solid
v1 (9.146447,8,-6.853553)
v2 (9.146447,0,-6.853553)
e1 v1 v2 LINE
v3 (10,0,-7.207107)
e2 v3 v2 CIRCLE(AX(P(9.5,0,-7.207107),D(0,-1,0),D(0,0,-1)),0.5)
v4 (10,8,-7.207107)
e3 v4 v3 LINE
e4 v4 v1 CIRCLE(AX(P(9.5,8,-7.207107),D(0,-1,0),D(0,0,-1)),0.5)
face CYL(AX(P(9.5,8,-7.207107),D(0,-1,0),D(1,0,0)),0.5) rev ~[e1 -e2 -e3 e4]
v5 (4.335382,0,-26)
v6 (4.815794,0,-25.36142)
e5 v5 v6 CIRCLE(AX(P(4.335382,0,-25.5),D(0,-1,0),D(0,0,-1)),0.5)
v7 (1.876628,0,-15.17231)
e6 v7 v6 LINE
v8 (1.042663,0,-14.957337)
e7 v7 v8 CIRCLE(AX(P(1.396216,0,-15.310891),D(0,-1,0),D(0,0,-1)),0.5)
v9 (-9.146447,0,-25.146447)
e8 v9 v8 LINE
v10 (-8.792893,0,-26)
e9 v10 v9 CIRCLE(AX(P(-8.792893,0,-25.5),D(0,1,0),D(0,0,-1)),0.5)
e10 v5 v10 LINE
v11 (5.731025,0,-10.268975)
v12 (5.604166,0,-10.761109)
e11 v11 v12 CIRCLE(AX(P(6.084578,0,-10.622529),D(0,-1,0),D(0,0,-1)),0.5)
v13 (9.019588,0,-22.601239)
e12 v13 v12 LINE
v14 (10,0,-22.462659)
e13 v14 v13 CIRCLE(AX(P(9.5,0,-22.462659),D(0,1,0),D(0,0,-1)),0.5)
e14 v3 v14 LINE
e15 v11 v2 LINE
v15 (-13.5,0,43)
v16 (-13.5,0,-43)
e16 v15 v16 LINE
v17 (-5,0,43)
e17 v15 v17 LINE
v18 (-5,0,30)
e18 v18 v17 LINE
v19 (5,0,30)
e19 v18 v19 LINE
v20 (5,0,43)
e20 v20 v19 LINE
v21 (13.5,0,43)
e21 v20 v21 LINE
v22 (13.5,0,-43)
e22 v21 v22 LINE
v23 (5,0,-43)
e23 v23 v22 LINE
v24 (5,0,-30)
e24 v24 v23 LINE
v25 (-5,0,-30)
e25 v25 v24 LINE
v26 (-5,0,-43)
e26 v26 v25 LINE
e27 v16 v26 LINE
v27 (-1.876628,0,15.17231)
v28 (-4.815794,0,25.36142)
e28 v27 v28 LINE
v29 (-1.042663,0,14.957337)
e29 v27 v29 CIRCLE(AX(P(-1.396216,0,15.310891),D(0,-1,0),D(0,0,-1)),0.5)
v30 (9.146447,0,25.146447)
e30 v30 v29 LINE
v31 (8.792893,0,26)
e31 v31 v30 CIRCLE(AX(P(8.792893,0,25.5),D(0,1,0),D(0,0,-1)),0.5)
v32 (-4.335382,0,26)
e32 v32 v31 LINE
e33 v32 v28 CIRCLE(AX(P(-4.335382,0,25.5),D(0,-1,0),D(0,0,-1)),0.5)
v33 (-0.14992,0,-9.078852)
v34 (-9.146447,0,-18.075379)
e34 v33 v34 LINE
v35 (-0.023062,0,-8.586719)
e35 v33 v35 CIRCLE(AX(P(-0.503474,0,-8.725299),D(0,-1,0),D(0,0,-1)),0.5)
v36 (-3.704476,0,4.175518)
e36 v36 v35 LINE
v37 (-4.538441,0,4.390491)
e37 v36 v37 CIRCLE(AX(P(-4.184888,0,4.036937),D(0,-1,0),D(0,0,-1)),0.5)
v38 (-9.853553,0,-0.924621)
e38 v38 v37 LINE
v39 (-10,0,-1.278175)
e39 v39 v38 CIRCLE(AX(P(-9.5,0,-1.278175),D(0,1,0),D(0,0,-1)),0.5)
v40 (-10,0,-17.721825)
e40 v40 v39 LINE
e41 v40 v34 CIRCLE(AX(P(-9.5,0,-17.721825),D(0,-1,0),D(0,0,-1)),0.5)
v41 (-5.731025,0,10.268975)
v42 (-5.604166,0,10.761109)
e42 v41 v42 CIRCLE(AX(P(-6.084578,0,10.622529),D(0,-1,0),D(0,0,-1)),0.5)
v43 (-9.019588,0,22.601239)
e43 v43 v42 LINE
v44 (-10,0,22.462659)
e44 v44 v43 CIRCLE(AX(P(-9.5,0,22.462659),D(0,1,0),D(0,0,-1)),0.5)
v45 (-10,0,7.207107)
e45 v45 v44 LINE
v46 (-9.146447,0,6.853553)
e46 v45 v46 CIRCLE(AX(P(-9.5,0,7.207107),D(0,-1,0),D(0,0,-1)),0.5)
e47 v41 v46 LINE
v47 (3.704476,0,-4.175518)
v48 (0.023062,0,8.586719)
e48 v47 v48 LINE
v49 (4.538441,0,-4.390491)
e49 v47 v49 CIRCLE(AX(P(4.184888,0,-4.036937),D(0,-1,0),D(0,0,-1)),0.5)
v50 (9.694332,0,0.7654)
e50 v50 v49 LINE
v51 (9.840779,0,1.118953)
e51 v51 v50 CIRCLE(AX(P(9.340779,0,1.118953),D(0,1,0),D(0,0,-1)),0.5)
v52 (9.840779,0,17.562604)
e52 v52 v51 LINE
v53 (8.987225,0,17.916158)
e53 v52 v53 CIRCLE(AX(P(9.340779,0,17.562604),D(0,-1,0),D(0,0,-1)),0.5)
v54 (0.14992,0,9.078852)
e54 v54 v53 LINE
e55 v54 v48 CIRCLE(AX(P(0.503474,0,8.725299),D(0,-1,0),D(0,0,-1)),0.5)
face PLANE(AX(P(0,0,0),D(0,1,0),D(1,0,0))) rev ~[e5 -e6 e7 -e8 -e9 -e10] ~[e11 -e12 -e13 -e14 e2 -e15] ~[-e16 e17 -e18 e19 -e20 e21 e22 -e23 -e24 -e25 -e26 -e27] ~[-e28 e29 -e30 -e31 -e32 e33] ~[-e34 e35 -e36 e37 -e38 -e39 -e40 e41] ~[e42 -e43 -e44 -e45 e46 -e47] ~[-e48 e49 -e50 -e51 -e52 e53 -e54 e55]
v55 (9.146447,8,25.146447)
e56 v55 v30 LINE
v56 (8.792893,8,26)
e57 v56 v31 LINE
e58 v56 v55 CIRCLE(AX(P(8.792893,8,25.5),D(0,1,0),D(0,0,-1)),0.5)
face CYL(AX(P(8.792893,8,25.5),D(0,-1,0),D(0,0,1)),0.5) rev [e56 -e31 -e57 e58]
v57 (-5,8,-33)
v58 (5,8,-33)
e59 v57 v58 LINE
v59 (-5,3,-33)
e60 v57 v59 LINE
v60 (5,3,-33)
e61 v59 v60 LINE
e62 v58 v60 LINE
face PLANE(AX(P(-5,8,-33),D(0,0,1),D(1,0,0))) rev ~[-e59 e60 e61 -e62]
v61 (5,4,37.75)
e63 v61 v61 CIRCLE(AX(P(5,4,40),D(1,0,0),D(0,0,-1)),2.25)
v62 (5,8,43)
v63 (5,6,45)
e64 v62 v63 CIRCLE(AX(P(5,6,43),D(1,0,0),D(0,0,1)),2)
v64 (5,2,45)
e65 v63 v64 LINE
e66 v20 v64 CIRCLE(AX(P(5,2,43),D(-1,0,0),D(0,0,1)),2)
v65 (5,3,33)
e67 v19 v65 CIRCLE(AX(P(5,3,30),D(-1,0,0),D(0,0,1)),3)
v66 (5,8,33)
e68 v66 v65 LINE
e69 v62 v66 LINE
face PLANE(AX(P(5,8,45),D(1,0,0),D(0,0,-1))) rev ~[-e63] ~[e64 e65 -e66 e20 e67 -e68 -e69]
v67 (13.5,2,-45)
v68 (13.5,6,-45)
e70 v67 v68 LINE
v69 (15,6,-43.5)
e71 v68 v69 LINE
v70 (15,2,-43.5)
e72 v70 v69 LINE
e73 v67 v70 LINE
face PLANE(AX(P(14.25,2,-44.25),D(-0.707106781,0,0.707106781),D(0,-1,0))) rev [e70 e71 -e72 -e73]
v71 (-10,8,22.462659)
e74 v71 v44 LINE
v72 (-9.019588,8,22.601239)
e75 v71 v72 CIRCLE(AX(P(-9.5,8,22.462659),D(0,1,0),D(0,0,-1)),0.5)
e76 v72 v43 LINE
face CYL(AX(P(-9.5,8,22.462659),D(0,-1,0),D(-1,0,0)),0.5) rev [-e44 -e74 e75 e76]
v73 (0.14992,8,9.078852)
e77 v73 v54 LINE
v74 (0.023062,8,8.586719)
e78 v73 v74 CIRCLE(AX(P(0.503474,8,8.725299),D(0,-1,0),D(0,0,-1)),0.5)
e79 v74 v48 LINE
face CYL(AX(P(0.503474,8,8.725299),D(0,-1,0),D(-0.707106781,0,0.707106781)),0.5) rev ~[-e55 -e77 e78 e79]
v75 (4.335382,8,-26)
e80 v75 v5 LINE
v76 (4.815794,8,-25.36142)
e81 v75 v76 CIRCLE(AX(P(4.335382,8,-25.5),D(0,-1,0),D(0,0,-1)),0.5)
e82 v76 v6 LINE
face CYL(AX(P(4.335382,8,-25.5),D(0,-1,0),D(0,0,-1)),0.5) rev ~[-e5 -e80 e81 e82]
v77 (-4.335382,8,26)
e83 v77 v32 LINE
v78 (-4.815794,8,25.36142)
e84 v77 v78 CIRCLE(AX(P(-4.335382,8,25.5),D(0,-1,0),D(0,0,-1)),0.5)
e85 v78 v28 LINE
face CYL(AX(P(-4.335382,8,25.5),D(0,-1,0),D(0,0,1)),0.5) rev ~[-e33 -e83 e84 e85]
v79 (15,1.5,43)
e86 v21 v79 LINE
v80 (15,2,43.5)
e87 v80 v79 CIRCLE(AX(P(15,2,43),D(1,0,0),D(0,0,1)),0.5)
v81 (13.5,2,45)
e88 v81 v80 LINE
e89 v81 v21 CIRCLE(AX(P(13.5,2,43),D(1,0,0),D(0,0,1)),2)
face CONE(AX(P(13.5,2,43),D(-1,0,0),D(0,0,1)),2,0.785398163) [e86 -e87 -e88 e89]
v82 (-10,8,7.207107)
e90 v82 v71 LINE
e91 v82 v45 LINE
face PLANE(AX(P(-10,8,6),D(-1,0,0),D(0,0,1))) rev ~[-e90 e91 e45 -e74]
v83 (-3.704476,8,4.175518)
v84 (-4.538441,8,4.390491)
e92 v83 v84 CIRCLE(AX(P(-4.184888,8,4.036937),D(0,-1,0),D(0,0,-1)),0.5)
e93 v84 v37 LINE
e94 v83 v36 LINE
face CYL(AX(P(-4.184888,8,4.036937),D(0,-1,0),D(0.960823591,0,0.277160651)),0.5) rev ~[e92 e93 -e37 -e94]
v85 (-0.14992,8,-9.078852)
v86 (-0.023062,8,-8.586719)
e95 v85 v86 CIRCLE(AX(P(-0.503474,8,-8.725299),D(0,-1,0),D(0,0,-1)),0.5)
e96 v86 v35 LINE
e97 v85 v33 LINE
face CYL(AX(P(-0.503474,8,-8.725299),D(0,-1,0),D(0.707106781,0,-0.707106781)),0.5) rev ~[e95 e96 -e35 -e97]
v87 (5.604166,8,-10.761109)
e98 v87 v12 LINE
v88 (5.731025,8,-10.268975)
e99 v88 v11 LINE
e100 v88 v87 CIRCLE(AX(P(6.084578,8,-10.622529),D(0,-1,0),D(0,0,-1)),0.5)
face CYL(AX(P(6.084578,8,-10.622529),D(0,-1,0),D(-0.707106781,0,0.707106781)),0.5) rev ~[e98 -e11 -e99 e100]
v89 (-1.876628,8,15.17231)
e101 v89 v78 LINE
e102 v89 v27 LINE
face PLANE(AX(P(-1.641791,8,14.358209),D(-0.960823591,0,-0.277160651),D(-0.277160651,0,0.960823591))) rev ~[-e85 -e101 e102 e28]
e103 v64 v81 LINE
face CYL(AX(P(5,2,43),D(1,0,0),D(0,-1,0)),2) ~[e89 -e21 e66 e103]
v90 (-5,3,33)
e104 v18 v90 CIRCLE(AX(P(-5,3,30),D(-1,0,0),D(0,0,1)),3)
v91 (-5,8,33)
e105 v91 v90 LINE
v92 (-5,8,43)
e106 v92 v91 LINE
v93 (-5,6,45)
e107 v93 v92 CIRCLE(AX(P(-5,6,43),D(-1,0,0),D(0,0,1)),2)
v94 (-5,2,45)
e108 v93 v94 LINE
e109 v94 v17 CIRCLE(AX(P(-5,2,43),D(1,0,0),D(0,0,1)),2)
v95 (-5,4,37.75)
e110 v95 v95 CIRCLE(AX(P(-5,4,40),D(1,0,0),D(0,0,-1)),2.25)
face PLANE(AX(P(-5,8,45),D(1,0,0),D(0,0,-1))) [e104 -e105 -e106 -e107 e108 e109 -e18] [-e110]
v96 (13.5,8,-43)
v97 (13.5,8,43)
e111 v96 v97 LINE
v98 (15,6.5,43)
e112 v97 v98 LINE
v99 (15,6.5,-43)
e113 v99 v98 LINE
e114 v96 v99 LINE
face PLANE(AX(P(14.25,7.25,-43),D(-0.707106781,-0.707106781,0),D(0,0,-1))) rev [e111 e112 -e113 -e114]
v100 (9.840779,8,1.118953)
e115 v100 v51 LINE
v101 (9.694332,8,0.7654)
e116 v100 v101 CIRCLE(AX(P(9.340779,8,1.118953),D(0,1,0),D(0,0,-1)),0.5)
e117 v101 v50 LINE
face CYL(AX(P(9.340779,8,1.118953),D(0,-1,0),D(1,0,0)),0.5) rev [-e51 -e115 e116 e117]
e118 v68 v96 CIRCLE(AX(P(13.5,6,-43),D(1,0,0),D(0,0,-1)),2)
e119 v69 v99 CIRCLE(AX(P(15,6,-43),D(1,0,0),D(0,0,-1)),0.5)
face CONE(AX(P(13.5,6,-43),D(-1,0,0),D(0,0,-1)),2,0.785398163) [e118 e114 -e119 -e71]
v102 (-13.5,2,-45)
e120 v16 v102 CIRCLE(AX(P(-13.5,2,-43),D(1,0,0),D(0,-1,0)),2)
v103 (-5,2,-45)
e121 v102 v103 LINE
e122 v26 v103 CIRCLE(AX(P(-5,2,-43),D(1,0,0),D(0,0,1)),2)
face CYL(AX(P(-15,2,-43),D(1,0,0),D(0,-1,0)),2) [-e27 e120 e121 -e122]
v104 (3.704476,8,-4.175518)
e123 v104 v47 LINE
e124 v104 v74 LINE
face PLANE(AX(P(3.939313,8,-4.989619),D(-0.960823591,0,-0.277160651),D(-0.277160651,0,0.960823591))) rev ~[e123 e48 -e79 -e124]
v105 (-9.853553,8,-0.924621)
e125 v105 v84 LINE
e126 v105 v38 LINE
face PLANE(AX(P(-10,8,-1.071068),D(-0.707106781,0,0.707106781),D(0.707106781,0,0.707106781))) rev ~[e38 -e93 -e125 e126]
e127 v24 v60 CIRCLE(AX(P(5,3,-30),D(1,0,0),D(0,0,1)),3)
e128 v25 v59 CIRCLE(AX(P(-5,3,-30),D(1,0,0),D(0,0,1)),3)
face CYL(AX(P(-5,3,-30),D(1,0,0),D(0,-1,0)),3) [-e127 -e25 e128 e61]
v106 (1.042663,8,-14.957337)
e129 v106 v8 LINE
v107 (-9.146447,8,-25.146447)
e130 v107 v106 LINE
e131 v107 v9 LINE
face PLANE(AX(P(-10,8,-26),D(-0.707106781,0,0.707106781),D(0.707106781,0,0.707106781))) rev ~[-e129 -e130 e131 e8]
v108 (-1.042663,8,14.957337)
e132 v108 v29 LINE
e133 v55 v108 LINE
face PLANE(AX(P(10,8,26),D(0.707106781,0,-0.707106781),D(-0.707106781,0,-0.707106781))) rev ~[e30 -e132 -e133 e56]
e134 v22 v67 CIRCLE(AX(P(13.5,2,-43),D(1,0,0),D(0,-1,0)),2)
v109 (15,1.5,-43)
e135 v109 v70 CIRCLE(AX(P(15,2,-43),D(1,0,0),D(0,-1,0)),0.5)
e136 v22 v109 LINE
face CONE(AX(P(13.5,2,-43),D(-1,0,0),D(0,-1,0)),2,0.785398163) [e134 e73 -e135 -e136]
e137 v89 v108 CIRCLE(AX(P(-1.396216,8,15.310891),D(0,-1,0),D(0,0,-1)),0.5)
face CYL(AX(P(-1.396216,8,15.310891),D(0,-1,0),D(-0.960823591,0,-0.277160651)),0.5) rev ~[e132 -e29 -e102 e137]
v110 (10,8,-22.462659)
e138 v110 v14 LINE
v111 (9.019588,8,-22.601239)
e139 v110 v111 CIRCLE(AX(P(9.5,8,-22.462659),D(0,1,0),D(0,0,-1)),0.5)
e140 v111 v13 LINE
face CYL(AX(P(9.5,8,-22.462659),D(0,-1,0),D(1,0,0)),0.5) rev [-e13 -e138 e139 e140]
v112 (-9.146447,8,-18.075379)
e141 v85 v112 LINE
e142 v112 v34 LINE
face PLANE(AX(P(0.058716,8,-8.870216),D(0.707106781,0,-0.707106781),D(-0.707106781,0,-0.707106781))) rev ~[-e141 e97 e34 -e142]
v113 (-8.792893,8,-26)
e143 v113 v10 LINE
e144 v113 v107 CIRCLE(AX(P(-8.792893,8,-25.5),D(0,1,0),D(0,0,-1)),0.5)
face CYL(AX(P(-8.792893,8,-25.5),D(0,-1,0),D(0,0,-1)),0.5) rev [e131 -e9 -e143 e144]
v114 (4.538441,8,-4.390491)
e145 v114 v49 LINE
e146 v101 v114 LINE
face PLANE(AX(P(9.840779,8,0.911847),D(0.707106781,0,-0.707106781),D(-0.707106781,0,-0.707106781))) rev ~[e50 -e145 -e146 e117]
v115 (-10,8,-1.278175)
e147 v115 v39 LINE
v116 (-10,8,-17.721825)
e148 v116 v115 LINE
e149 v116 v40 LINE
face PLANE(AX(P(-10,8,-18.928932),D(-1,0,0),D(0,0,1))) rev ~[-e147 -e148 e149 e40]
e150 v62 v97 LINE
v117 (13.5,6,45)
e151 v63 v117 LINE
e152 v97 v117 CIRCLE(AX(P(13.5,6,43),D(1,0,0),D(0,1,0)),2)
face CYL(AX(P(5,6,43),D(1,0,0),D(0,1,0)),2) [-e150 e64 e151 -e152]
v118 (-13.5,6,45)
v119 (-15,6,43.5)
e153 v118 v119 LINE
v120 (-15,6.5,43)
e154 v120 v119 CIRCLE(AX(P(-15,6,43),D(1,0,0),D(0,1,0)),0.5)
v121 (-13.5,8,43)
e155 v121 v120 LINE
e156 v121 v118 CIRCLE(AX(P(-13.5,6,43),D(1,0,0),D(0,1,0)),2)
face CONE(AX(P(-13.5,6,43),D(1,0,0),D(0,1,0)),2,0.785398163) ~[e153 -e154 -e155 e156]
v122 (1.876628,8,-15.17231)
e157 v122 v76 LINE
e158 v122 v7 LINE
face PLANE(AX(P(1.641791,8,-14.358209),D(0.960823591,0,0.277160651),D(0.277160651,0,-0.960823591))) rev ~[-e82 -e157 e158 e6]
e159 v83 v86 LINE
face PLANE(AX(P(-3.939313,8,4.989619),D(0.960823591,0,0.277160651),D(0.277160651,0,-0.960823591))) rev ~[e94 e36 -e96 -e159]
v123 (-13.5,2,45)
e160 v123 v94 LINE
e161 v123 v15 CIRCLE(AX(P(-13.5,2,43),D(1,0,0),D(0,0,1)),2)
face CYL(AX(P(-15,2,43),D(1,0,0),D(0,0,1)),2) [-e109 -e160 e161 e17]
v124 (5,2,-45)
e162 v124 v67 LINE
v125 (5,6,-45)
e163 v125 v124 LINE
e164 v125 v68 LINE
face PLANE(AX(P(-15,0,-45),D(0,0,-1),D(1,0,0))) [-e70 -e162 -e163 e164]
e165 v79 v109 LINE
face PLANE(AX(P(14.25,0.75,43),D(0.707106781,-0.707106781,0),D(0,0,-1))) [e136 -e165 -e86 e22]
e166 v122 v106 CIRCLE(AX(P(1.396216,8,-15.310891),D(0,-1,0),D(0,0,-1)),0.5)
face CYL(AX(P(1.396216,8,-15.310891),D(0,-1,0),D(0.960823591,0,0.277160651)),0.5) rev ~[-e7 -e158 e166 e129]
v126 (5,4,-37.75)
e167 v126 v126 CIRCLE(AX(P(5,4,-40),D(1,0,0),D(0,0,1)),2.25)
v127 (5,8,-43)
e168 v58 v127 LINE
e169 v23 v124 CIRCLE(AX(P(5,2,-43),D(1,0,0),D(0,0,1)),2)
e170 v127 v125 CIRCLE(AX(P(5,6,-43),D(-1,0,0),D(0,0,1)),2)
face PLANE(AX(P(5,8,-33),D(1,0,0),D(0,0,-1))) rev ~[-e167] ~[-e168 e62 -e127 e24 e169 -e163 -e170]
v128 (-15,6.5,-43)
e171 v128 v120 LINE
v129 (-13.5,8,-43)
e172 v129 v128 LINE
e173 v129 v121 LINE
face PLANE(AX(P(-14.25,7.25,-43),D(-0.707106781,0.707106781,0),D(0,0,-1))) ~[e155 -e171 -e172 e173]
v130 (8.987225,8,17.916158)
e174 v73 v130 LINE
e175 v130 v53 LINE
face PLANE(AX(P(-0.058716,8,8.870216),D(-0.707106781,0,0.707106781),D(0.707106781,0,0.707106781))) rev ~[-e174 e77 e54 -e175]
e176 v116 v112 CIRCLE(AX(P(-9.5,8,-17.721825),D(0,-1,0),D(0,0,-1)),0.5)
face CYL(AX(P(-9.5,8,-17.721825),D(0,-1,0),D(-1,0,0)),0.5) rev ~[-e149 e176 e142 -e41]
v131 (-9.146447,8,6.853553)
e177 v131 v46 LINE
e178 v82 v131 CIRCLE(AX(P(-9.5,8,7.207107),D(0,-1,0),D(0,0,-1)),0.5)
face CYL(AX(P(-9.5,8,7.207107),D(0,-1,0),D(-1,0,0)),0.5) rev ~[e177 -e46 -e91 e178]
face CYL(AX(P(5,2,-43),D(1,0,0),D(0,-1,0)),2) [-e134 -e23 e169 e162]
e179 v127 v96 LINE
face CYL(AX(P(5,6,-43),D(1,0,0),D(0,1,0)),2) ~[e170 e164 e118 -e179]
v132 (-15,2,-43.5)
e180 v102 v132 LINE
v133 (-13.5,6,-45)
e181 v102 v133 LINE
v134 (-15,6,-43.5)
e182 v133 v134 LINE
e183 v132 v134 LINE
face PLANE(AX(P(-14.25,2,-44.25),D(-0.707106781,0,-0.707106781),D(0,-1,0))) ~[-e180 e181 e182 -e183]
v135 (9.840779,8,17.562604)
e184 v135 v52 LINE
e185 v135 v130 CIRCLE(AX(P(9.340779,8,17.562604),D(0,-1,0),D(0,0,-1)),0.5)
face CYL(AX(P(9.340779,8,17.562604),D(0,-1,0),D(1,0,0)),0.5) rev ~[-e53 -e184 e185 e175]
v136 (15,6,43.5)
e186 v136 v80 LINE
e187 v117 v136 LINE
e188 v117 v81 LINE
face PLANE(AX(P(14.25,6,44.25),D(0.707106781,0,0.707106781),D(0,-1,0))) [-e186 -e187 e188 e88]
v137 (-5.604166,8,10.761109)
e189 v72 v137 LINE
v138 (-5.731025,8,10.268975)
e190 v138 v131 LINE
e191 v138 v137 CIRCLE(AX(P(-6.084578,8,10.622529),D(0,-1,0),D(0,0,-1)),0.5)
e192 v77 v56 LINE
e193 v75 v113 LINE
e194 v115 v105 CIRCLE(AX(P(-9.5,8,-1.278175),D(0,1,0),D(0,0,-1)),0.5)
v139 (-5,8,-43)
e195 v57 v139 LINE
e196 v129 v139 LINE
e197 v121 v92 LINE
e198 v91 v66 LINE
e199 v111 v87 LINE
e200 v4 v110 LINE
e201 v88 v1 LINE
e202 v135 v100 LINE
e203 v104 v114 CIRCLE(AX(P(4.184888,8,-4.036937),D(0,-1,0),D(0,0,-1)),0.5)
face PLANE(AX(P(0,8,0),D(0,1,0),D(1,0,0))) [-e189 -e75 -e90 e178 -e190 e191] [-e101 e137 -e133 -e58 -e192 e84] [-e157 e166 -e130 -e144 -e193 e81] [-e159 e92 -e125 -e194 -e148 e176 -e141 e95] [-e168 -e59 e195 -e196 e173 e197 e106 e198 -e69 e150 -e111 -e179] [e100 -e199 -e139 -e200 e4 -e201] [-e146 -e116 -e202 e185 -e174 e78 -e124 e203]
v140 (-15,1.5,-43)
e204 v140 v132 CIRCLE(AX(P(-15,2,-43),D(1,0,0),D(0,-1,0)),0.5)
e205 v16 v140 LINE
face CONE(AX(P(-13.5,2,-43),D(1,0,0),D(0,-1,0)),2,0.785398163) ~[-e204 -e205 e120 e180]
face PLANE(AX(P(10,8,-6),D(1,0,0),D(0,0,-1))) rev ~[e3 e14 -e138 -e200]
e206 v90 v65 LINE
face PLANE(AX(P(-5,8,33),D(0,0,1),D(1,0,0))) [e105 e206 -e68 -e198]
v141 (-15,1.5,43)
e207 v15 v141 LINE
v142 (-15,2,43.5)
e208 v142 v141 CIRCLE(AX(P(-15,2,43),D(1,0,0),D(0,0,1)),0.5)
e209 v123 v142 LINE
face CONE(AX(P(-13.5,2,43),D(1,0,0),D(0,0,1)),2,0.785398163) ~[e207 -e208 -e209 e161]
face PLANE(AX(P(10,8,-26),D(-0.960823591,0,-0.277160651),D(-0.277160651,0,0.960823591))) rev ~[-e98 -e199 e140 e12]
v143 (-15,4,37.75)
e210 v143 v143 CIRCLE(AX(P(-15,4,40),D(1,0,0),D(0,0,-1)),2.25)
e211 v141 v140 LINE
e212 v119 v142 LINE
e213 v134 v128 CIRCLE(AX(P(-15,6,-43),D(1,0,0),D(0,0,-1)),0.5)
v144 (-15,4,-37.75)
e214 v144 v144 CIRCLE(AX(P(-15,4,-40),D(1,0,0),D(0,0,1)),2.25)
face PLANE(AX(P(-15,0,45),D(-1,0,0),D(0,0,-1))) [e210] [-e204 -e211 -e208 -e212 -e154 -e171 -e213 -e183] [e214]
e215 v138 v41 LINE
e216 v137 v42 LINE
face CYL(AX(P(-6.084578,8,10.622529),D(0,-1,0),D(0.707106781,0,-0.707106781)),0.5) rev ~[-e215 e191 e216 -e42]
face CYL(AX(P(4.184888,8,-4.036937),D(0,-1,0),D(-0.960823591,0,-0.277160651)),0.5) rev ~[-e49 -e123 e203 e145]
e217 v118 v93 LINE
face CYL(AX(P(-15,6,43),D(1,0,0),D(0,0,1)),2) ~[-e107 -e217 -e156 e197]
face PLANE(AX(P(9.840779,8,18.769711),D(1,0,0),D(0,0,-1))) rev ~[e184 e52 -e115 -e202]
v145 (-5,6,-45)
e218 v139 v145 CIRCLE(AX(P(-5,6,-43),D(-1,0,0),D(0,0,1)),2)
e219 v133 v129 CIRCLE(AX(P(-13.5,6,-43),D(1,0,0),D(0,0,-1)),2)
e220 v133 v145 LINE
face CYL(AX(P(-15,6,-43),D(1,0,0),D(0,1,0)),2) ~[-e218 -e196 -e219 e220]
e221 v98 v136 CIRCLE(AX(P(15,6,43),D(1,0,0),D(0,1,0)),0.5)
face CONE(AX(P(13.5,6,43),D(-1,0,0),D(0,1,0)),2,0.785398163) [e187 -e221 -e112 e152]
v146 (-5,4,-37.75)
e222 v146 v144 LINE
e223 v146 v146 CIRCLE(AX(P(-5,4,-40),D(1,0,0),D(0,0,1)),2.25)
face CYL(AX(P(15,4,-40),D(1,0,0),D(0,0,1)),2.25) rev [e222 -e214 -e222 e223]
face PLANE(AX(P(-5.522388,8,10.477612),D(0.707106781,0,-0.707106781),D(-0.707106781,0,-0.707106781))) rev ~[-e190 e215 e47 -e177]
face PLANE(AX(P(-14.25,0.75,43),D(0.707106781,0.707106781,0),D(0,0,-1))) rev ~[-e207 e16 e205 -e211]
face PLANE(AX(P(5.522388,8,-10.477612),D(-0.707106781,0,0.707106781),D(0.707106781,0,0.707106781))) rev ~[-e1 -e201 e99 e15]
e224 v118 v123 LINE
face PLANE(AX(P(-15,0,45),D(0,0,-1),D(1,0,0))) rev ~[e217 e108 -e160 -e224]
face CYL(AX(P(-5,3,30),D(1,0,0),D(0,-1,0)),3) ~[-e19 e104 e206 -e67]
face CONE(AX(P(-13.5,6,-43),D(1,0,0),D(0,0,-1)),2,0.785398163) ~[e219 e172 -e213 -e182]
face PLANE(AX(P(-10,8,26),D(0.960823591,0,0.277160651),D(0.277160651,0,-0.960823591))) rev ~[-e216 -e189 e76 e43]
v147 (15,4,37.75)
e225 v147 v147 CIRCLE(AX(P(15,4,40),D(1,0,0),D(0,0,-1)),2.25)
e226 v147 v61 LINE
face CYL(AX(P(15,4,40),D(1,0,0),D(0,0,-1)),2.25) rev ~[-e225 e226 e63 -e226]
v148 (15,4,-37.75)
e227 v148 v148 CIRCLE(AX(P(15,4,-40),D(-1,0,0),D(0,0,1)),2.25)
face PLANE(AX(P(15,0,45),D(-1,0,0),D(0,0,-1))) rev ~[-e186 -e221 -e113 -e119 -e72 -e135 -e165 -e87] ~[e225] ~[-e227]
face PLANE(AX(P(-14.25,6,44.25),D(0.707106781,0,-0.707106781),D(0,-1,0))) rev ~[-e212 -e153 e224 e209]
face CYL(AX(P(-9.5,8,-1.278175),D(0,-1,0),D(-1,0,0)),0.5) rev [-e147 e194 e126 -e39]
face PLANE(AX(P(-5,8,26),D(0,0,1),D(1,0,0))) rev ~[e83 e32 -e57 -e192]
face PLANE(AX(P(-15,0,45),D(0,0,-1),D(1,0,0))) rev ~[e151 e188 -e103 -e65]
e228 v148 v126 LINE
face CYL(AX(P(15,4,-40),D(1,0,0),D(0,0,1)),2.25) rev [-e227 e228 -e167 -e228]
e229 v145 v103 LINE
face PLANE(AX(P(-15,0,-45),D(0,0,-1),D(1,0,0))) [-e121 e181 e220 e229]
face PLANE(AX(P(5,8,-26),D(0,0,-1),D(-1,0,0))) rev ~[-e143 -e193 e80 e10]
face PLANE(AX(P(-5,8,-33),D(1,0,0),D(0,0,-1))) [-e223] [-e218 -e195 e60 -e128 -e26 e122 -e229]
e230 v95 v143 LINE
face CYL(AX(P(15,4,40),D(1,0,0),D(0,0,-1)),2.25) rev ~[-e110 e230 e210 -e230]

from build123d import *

# Parameters (mm, degrees)
SKETCH1_W           = 30
SKETCH1_H           = 90
BOSS_EXTRUDE1_DEPTH = 8
SKETCH2_W           = 10
SKETCH2_H           = 12
CUT_EXTRUDE1_DEPTH  = 8
SKETCH3_R           = 2.25
CUT_EXTRUDE2_DEPTH  = 55.671747731
FILLET1_R           = 2
CUT_EXTRUDE3_DEPTH  = 49.104053883
FILLET2_R           = 3
CHAMFER1_SIZE       = 1.5
FILLET3_R           = 0.5


with BuildPart() as part:
    # Sketch1 → Boss-Extrude1 (new body)
    with BuildSketch(Plane(origin=(0, 0, 0), x_dir=(1, 0, 0), z_dir=(0, 1, 0))):
        Rectangle(SKETCH1_W, SKETCH1_H)
    extrude(amount=BOSS_EXTRUDE1_DEPTH)

    # Sketch2 → Cut-Extrude1 (cut)
    with BuildSketch(Plane(origin=(0, 8, 0), x_dir=(1, 0, 0), z_dir=(0, 1, 0))):
        with Locations((0, 39)):
            Rectangle(SKETCH2_W, SKETCH2_H)
        with Locations((0, -39)):
            Rectangle(SKETCH2_W, SKETCH2_H)
    extrude(amount=-CUT_EXTRUDE1_DEPTH, mode=Mode.SUBTRACT)

    # Sketch3 → Cut-Extrude2 (cut, through all)
    with BuildSketch(Plane(origin=(15, 0, 0), x_dir=(0, 0, -1), z_dir=(1, 0, 0))):
        with Locations((-40, 4)):
            Circle(SKETCH3_R)
    cut_extrude2 = extrude(amount=-CUT_EXTRUDE2_DEPTH, mode=Mode.SUBTRACT)

    # Mirror1: Cut-Extrude2 across plane
    add(cut_extrude2.mirror(Plane.XY), mode=Mode.SUBTRACT)

    # Fillet1
    fillet1_edges = [part.edges().sort_by_distance(p)[0] for p in [
        (10, 0, 45),
        (-10, 0, -45),
        (-10, 8, 45),
        (-10, 8, -45),
        (10, 8, 45),
        (-10, 0, 45),
        (10, 0, -45),
        (10, 8, -45),
    ]]
    fillet(fillet1_edges, radius=FILLET1_R)

    # Sketch4 → Cut-Extrude3 (cut, through all)
    with BuildSketch(Plane(origin=(0, 8, 0), x_dir=(1, 0, 0), z_dir=(0, 1, 0))):
        Polygon((5, 26), (-10, 26), (1.641791045, 14.358208955), align=None)
        Polygon((10, 6), (10, 26), (5.52238806, 10.47761194), align=None)
        Polygon((-10, -6), (-10, -26), (-5.52238806, -10.47761194), align=None)
        Polygon((-5, -26), (10, -26), (-1.641791045, -14.358208955), align=None)
        Polygon((-10, 18.928932188), (-10, 1.071067812), (-3.939313176, -4.989619012), (0.058716162, 8.870216027), align=None)
        Polygon((9.840778775, -18.769710963), (9.840778775, -0.911846587), (3.939313176, 4.989619012), (-0.058716162, -8.870216027), align=None)
    extrude(amount=-CUT_EXTRUDE3_DEPTH, mode=Mode.SUBTRACT)

    # Fillet2
    fillet2_edges = [part.edges().sort_by_distance(p)[0] for p in [
        (0, 0, -33),
        (0, 0, 33),
    ]]
    fillet(fillet2_edges, radius=FILLET2_R)

    # Chamfer1
    chamfer1_edges = [part.edges().sort_by_distance(p)[0] for p in [
        (15, 4, -45),
        (15, 0, 0),
        (-15, 0, 0),
        (15, 8, 0),
        (15, 4, 45),
        (15, 7.414213562, 44.414213562),
        (15, 0.585786438, 44.414213562),
        (15, 7.414213562, -44.414213562),
        (15, 0.585786438, -44.414213562),
        (-15, 8, 0),
        (-15, 4, 45),
        (-15, 4, -45),
        (-15, 0.585786438, 44.414213562),
        (-15, 7.414213562, 44.414213562),
        (-15, 0.585786438, -44.414213562),
        (-15, 7.414213562, -44.414213562),
    ]]
    chamfer(chamfer1_edges, length=CHAMFER1_SIZE)

    # Fillet3
    fillet3_edges = [part.edges().sort_by_distance(p)[0] for p in [
        (-10, 4, -18.928932188),
        (0.058716162, 4, -8.870216027),
        (-3.939313176, 4, 4.989619012),
        (-10, 4, -1.071067812),
        (-1.641791045, 4, 14.358208955),
        (10, 4, 26),
        (-5, 4, 26),
        (10, 4, -6),
        (5.52238806, 4, -10.47761194),
        (10, 4, -26),
        (-10, 4, 6),
        (-5.52238806, 4, 10.47761194),
        (-10, 4, 26),
        (9.840778775, 4, 18.769710963),
        (-0.058716162, 4, 8.870216027),
        (3.939313176, 4, -4.989619012),
        (9.840778775, 4, 0.911846587),
        (5, 4, -26),
        (1.641791045, 4, -14.358208955),
        (-10, 4, -26),
    ]]
    fillet(fillet3_edges, radius=FILLET3_R)


solid = part.part
